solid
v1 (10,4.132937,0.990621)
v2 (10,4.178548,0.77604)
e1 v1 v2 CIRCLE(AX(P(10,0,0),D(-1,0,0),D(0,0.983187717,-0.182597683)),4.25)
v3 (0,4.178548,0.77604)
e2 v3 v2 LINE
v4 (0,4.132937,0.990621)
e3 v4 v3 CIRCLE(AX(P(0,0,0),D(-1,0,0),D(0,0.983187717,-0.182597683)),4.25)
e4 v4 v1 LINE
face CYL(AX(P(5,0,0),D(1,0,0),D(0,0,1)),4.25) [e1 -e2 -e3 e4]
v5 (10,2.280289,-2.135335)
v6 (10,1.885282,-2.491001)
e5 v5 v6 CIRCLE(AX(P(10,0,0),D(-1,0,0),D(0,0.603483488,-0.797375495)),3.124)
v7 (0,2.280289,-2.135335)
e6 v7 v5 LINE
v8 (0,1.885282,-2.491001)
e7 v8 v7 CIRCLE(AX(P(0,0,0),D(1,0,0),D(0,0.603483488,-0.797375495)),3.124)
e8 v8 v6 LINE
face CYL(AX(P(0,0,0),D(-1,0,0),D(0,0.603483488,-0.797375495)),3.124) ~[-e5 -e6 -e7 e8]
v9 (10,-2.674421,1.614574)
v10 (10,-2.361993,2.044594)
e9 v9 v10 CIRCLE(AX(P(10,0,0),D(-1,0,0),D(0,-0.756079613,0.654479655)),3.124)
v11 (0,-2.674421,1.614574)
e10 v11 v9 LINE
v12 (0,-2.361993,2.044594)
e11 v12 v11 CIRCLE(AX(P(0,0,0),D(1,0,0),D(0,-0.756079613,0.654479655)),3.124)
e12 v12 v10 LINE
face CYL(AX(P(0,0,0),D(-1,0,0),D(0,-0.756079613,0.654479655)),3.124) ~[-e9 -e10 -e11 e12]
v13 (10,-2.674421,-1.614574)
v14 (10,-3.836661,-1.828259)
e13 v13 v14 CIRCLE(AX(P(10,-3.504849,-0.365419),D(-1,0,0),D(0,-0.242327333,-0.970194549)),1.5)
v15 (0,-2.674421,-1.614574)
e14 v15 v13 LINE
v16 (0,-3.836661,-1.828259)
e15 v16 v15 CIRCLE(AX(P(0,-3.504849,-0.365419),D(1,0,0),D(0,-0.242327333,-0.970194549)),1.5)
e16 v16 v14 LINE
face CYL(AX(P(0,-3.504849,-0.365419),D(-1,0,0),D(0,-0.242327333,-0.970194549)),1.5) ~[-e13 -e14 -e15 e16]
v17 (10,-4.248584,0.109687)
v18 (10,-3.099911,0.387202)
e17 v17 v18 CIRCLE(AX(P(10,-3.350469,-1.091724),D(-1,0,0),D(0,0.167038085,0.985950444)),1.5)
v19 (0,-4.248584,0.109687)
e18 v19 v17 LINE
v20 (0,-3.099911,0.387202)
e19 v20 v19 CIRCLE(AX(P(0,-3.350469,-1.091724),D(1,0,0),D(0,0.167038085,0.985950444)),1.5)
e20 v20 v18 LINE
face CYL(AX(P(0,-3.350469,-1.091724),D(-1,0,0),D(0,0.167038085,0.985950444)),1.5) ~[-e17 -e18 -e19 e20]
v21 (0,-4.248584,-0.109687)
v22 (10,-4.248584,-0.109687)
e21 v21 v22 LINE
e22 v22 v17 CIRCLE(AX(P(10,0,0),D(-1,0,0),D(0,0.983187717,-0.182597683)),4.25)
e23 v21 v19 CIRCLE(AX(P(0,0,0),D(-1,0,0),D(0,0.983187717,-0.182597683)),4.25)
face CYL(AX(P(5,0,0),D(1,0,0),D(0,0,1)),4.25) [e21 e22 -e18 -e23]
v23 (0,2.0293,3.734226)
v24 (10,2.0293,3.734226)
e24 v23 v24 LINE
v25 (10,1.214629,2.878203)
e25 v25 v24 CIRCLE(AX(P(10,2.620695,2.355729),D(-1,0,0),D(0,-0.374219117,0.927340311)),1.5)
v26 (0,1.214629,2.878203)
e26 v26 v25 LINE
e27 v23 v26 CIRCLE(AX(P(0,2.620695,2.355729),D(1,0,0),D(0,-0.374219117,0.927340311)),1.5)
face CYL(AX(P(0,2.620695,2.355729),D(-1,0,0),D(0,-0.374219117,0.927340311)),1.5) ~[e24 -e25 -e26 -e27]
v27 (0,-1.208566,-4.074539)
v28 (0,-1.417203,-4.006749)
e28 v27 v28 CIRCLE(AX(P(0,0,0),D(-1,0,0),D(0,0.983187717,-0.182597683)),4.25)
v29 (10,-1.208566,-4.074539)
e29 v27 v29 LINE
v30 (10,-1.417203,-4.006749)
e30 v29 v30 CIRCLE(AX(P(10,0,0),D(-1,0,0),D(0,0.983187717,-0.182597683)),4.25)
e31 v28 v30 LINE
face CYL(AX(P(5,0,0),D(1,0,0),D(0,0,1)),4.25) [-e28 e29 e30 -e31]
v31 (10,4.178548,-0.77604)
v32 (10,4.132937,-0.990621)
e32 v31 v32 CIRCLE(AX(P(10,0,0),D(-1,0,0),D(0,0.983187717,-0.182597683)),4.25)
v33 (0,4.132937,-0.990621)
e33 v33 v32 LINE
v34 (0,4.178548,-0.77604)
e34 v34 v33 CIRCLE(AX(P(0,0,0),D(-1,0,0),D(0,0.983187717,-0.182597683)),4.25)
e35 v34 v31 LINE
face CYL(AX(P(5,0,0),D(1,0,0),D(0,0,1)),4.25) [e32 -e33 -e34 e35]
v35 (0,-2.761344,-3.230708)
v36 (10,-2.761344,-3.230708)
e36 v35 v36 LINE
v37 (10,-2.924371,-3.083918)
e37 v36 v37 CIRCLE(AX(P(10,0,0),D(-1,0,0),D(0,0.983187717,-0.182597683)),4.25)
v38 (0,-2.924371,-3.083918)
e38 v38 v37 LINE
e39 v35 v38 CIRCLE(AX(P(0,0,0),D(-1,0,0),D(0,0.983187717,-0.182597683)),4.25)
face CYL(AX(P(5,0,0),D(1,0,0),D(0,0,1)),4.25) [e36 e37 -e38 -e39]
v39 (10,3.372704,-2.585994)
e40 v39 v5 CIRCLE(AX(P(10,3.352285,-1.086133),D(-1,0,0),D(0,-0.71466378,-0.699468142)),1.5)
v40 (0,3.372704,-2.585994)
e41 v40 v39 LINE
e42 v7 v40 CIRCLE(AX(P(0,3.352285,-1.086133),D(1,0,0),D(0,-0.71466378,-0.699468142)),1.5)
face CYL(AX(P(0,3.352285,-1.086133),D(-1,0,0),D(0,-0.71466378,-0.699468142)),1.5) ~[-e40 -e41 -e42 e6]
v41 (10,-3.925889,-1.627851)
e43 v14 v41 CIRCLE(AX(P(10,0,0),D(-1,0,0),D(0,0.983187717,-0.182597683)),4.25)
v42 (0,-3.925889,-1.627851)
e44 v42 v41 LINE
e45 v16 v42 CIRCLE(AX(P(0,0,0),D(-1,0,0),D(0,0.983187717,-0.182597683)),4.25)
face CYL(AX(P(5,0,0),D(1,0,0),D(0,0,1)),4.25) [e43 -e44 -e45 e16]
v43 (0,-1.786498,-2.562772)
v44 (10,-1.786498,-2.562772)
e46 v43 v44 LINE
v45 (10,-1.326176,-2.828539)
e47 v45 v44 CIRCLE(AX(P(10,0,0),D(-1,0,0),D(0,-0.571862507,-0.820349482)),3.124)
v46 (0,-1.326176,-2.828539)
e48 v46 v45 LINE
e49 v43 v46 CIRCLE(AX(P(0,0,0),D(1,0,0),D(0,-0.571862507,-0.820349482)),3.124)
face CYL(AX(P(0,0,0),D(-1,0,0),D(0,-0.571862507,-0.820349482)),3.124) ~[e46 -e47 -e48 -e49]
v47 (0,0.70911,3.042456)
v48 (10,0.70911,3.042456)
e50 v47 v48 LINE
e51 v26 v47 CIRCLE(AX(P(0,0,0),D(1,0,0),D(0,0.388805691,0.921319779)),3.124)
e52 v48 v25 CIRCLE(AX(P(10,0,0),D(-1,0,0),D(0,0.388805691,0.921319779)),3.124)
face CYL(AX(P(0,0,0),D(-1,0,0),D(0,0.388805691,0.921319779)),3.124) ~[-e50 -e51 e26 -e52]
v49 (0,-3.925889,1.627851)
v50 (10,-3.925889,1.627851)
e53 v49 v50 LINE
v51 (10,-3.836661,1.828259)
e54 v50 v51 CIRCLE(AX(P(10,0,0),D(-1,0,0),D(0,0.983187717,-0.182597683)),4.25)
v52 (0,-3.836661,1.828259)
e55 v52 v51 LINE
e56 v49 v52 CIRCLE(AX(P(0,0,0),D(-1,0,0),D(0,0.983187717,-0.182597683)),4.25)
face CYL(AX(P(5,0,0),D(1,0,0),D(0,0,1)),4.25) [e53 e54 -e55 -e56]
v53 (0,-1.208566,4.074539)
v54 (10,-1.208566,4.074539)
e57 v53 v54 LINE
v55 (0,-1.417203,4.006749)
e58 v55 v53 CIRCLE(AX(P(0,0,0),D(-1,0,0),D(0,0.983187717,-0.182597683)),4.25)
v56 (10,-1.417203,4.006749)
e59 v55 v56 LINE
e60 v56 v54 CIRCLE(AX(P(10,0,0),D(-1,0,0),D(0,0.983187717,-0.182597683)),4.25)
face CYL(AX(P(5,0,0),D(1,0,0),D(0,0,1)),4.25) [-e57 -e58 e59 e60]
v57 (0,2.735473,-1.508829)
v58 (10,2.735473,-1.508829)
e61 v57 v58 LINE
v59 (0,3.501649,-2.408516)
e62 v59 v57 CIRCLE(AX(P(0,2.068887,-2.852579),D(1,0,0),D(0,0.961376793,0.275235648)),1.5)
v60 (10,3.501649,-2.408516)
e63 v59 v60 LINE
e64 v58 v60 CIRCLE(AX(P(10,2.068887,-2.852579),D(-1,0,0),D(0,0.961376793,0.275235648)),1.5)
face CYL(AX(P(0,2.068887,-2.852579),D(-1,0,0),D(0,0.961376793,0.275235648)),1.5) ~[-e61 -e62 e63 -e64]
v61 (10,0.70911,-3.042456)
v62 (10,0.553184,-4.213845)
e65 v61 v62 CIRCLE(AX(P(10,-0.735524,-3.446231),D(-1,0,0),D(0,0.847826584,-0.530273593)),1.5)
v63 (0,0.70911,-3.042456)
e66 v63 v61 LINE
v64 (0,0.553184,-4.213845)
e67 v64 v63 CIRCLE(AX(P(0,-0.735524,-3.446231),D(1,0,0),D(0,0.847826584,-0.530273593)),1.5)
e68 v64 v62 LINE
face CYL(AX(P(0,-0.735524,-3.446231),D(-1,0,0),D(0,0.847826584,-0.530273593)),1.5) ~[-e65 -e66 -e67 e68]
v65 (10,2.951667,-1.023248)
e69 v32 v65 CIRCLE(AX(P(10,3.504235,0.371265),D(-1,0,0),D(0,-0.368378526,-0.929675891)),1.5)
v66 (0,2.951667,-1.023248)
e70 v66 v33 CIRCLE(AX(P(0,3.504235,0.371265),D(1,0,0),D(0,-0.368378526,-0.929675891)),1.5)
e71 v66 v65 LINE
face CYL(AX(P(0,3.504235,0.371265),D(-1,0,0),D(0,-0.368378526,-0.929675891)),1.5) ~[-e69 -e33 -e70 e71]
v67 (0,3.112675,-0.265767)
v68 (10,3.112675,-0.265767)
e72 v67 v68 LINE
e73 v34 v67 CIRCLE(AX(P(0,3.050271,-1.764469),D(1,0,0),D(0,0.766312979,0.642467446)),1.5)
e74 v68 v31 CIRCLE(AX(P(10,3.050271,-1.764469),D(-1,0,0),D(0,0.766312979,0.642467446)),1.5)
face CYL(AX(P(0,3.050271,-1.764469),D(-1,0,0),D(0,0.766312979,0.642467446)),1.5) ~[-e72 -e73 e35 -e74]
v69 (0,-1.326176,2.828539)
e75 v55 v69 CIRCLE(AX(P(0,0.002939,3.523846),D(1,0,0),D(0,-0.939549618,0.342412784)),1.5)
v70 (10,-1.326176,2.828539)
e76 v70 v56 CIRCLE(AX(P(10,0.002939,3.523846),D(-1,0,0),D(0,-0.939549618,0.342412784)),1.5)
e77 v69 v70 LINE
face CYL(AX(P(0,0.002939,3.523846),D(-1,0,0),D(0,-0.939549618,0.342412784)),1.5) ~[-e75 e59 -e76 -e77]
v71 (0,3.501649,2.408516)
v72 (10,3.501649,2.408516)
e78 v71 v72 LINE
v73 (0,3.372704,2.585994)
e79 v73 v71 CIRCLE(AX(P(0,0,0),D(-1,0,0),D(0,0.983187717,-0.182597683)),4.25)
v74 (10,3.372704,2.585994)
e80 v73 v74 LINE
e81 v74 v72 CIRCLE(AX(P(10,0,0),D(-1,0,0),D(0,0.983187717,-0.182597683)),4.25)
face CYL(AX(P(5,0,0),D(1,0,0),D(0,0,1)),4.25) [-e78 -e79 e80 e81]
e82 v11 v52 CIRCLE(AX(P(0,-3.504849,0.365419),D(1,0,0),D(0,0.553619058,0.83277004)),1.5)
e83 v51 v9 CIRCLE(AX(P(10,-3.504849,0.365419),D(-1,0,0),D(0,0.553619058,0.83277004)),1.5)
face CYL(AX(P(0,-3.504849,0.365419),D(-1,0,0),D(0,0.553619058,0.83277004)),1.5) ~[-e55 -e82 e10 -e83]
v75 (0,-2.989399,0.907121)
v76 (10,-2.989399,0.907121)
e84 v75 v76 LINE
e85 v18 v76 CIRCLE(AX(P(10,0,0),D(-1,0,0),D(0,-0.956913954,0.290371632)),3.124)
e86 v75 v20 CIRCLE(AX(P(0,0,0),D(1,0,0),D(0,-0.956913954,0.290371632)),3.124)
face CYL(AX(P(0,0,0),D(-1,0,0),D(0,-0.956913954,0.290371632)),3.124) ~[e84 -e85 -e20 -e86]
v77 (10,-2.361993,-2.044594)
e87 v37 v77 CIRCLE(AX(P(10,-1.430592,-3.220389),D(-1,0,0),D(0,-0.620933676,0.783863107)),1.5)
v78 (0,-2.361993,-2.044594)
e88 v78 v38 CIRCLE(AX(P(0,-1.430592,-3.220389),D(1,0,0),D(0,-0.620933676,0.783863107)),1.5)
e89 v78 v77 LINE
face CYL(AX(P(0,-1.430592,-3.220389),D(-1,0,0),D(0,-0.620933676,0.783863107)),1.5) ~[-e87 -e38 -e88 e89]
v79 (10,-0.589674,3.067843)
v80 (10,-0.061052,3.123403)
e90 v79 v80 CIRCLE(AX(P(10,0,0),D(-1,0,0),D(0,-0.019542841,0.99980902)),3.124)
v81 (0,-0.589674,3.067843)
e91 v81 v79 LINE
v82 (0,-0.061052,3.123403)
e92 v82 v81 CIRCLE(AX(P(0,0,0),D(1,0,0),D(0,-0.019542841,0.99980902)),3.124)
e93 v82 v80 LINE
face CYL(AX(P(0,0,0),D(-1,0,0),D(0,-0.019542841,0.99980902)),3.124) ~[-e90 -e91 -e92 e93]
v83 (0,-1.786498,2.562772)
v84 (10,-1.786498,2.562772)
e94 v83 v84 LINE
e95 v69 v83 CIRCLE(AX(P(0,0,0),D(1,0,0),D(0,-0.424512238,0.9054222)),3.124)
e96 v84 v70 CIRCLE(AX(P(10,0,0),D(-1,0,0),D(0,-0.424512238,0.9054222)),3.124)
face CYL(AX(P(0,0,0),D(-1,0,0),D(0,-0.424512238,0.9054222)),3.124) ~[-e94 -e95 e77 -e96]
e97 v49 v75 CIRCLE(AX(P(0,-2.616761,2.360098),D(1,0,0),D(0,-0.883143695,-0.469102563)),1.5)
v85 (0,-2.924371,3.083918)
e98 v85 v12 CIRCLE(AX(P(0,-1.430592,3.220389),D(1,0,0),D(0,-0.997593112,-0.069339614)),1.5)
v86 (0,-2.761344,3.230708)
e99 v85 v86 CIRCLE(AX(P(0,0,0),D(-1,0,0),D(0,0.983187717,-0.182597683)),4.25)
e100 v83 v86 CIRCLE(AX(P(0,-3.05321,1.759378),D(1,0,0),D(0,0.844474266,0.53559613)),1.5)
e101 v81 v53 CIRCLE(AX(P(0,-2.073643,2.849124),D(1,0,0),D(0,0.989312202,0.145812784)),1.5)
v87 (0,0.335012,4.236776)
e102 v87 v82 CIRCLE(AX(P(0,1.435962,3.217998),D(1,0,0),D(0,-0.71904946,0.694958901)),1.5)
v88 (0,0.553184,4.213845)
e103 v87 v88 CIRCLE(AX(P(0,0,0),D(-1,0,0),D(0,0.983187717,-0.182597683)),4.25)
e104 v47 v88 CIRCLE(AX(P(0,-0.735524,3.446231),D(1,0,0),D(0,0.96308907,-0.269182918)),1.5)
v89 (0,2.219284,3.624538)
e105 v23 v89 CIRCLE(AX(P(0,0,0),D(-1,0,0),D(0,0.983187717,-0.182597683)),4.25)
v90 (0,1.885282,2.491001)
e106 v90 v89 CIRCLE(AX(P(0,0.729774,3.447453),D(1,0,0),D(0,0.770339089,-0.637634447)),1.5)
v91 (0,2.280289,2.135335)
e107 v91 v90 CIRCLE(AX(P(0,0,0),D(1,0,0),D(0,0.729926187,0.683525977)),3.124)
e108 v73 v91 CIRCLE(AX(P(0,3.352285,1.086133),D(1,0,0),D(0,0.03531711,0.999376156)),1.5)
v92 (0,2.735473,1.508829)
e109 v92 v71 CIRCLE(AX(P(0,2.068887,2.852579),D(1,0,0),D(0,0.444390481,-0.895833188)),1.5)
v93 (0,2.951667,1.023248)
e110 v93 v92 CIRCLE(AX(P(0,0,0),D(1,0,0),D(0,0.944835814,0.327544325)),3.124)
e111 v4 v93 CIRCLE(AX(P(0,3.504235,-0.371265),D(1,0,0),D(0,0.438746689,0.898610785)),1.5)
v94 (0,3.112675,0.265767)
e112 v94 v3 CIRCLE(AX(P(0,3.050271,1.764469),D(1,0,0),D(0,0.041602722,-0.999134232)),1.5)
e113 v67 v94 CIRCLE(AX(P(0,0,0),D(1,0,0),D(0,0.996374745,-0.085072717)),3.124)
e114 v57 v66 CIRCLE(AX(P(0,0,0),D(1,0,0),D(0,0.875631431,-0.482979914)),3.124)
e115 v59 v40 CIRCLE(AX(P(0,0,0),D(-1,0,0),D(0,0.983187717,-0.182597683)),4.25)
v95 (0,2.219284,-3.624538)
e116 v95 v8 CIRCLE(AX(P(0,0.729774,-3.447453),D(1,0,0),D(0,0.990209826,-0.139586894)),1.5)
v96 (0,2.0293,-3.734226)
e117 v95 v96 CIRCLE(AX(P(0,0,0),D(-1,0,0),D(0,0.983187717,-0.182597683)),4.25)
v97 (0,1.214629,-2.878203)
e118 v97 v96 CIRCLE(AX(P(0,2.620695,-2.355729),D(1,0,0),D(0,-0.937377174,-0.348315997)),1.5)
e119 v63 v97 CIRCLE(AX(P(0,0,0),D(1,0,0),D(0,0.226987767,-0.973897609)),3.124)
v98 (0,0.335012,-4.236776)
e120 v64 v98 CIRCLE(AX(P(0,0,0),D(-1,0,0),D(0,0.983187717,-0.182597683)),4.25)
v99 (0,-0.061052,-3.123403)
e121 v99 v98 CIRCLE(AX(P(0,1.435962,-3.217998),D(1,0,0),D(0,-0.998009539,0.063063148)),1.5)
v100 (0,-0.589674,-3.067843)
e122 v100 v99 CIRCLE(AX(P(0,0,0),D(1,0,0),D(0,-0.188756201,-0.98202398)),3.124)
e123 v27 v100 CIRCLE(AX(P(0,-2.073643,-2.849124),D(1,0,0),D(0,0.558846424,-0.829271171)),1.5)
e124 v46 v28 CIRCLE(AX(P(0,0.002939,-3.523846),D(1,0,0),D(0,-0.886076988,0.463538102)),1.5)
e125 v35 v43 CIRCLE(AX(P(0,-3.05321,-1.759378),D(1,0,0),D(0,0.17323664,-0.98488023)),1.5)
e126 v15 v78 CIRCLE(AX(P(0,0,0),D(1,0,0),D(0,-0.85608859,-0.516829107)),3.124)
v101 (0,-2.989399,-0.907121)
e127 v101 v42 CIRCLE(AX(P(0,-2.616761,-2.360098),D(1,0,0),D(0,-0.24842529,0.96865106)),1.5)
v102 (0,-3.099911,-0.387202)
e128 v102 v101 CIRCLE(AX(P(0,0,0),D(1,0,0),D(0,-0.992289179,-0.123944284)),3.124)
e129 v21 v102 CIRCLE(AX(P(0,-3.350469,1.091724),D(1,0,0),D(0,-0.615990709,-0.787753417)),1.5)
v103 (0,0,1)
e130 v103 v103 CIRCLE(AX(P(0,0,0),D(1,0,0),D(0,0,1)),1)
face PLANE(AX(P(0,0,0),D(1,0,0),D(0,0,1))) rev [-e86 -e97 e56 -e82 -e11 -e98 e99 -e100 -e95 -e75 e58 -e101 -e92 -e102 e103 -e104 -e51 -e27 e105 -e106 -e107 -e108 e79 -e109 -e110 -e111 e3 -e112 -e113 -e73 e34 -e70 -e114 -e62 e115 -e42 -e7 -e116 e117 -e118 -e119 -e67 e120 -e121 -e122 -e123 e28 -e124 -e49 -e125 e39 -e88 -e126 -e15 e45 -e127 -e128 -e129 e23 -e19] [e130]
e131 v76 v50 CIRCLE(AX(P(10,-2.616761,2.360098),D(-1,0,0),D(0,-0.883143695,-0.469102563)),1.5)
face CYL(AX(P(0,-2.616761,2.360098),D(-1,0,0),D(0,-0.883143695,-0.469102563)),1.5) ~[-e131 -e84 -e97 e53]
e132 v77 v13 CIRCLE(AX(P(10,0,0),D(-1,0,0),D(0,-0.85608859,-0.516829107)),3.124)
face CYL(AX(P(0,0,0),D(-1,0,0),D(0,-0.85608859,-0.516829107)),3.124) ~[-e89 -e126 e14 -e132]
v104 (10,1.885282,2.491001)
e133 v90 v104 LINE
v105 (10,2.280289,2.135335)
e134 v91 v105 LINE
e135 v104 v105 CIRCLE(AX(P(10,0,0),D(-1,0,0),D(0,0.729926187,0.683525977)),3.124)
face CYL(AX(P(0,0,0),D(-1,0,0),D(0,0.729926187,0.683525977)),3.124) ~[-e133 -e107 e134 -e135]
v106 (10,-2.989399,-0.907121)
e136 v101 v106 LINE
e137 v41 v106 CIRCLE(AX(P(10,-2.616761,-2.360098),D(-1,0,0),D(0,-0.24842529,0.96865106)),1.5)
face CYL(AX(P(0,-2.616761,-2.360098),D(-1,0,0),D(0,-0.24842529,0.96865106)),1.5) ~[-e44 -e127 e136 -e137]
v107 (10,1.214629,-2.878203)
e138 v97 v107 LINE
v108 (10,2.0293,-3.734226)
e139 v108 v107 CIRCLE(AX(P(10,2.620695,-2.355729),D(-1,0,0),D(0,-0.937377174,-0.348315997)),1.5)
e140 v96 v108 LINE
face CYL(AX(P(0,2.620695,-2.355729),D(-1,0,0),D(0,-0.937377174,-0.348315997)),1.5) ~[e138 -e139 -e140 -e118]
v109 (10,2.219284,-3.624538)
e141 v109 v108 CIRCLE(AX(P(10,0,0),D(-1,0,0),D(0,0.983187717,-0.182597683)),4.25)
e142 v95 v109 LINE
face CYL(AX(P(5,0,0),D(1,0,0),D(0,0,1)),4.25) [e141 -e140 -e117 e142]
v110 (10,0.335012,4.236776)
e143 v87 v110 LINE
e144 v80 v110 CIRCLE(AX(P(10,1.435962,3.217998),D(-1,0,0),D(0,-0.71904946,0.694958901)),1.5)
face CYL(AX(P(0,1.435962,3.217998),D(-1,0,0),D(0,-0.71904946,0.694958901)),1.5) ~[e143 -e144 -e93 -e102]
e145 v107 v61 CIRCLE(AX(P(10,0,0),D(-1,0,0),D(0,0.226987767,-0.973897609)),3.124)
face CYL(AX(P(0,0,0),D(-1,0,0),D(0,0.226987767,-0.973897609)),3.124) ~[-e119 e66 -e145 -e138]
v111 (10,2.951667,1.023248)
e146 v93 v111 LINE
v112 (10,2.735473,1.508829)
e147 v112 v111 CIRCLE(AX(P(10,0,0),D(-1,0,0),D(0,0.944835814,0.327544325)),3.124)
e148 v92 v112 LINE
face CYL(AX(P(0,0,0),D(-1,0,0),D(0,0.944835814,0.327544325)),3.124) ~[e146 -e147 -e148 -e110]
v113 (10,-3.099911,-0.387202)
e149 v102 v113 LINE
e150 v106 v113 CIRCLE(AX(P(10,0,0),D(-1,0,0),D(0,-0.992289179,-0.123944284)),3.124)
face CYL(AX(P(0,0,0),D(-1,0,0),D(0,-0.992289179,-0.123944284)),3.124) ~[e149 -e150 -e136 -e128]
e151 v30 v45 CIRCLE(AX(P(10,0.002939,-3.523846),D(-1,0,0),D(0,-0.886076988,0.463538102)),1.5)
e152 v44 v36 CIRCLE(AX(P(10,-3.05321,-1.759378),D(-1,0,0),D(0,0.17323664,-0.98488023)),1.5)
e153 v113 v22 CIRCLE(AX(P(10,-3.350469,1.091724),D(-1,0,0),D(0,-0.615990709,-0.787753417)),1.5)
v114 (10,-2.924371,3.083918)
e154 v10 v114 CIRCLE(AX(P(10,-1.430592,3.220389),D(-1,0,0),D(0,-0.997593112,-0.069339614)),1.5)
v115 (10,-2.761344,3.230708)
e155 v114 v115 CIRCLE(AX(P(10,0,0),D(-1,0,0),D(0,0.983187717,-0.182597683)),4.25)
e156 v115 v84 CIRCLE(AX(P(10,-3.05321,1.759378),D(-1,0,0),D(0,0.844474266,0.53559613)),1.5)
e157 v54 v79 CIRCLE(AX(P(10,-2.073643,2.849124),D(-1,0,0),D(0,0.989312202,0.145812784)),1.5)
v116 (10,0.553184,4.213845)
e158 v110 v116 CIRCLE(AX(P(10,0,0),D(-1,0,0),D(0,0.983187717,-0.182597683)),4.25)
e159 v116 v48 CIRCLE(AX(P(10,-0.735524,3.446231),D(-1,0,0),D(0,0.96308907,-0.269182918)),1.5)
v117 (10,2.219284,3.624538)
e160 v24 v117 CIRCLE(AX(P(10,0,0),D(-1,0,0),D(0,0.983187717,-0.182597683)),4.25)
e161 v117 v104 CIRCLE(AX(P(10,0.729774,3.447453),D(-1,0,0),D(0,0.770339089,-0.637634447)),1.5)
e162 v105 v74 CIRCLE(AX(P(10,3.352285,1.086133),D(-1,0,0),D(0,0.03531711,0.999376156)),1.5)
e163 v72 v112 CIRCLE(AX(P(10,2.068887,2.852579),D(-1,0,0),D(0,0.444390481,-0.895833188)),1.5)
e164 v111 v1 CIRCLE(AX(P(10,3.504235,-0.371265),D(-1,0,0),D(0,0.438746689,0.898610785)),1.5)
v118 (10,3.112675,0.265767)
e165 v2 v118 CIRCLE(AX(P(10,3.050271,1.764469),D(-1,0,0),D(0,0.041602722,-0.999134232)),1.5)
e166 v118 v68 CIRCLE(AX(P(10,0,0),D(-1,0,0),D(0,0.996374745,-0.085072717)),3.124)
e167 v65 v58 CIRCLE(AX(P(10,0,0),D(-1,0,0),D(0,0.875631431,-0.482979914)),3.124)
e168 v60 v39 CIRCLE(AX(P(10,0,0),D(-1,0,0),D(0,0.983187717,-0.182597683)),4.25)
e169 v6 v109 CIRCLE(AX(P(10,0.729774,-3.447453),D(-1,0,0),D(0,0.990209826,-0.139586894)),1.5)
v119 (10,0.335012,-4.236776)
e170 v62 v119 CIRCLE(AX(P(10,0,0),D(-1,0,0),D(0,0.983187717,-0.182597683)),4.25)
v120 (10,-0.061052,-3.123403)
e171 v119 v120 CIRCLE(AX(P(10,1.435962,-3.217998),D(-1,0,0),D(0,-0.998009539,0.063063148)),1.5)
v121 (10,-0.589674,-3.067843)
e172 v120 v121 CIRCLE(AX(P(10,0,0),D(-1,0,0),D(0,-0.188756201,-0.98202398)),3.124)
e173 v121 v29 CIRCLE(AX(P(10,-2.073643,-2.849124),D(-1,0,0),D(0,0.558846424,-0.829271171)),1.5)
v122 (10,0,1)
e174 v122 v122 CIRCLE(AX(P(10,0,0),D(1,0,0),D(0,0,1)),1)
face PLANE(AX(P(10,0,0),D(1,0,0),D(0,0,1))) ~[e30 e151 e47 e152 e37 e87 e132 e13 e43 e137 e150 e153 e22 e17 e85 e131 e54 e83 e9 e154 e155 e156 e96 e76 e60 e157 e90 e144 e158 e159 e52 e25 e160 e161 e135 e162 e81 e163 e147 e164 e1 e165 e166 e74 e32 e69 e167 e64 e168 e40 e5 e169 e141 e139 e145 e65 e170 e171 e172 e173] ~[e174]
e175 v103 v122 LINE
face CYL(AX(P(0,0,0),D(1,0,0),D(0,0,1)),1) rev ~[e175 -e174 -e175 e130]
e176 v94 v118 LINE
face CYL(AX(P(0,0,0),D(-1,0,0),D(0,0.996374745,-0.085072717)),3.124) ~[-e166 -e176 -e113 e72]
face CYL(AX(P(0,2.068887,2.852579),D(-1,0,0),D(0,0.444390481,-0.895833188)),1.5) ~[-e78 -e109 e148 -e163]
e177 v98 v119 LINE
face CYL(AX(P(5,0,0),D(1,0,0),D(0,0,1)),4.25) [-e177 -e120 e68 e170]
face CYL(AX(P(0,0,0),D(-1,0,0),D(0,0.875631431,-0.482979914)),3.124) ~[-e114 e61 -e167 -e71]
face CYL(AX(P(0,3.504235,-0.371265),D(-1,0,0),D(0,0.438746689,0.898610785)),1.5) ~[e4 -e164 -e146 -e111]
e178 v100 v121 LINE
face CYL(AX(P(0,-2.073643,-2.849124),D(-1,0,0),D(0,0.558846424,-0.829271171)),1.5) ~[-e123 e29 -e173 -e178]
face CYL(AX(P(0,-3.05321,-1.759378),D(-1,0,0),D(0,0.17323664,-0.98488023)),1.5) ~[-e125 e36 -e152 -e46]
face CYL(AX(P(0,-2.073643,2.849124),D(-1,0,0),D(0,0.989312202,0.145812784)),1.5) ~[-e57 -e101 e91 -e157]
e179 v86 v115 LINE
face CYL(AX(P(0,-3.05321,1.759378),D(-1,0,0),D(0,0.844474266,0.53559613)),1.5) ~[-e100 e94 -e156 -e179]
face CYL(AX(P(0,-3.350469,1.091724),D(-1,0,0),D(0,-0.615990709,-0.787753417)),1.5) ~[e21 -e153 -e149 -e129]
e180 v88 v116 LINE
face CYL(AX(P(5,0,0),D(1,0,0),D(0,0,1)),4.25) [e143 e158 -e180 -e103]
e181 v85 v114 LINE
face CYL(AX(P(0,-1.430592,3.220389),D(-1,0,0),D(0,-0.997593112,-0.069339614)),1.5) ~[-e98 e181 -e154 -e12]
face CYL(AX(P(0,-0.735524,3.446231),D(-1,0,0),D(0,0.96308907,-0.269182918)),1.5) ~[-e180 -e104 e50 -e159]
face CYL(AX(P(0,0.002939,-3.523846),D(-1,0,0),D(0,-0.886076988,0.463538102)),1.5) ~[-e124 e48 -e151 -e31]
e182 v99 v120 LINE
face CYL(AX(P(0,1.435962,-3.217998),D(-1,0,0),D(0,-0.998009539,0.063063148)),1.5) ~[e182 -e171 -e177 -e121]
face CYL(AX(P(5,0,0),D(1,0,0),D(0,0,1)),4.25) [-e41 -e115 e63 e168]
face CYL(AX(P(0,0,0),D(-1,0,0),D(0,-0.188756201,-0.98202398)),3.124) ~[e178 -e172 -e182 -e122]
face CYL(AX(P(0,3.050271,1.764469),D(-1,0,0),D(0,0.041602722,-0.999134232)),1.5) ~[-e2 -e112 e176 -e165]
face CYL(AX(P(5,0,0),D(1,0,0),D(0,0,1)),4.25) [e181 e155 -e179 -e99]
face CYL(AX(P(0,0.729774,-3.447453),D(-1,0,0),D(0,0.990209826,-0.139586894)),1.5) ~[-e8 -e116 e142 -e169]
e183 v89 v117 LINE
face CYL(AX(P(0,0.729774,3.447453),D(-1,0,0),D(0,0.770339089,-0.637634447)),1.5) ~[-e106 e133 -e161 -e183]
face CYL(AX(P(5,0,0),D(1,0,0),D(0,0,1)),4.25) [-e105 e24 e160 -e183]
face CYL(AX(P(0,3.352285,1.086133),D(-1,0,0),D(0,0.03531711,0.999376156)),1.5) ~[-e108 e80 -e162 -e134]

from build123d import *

# Parameters (mm, degrees)
BASPROSKE_W     = 10
BASPROSKE_H     = 4.25
TOOTHCUT_DEPTH  = 12.66726189
TEETHCUTS_COUNT = 15
TEETHCUTS_ANGLE = 336
BORSKE_R        = 1
BORE_DEPTH      = 50.0000508


with BuildPart() as part:
    # BasProSke → Base-Revolve (revolve)
    with BuildSketch(Plane(origin=(0, 0, 0), x_dir=(1, 0, 0), z_dir=(0, 1, 0)), mode=Mode.PRIVATE) as base_revolve_sk:
        with Locations((5, 2.125)):
            Rectangle(BASPROSKE_W, BASPROSKE_H)
    revolve(base_revolve_sk.sketch.rotate(Axis((-10, 0, 0), (1, 0, 0)), 180), axis=Axis((-10, 0, 0), (1, 0, 0)))

    # TooCutSke → ToothCut (cut, through all)
    with BuildSketch(Plane(origin=(0, 0, 0), x_dir=(0, 0, -1), z_dir=(1, 0, 0))):
        with BuildLine():
            ThreePointArc((0.265767165, 3.112674704), (0, 3.124), (-0.265767165, 3.112674704))
            ThreePointArc((-0.265767165, 3.112674704), (-0.418628877, 3.712626775), (-0.800767345, 4.19974009))
            ThreePointArc((-0.800767345, 4.19974009), (0, 4.2754), (0.800767345, 4.19974009))
            ThreePointArc((0.800767345, 4.19974009), (0.418628877, 3.712626775), (0.265767165, 3.112674704))
        make_face()
    toothcut = extrude(amount=TOOTHCUT_DEPTH, mode=Mode.SUBTRACT)

    # TeethCuts: ToothCut ×15 about axis
    teethcuts_axis = Axis((-10, 0, 0), (1, 0, 0))
    for i in range(1, TEETHCUTS_COUNT):
        add(toothcut.rotate(teethcuts_axis, i * TEETHCUTS_ANGLE / (TEETHCUTS_COUNT - 1)), mode=Mode.SUBTRACT)

    # BorSke → Bore (cut, symmetric)
    with BuildSketch(Plane(origin=(0, 0, 0), x_dir=(0, 0, -1), z_dir=(1, 0, 0))):
        with Locations(Location((0, 0, 0), (0, 0, 180))):
            Circle(BORSKE_R)
    extrude(amount=BORE_DEPTH, both=True, mode=Mode.SUBTRACT)


solid = part.part
